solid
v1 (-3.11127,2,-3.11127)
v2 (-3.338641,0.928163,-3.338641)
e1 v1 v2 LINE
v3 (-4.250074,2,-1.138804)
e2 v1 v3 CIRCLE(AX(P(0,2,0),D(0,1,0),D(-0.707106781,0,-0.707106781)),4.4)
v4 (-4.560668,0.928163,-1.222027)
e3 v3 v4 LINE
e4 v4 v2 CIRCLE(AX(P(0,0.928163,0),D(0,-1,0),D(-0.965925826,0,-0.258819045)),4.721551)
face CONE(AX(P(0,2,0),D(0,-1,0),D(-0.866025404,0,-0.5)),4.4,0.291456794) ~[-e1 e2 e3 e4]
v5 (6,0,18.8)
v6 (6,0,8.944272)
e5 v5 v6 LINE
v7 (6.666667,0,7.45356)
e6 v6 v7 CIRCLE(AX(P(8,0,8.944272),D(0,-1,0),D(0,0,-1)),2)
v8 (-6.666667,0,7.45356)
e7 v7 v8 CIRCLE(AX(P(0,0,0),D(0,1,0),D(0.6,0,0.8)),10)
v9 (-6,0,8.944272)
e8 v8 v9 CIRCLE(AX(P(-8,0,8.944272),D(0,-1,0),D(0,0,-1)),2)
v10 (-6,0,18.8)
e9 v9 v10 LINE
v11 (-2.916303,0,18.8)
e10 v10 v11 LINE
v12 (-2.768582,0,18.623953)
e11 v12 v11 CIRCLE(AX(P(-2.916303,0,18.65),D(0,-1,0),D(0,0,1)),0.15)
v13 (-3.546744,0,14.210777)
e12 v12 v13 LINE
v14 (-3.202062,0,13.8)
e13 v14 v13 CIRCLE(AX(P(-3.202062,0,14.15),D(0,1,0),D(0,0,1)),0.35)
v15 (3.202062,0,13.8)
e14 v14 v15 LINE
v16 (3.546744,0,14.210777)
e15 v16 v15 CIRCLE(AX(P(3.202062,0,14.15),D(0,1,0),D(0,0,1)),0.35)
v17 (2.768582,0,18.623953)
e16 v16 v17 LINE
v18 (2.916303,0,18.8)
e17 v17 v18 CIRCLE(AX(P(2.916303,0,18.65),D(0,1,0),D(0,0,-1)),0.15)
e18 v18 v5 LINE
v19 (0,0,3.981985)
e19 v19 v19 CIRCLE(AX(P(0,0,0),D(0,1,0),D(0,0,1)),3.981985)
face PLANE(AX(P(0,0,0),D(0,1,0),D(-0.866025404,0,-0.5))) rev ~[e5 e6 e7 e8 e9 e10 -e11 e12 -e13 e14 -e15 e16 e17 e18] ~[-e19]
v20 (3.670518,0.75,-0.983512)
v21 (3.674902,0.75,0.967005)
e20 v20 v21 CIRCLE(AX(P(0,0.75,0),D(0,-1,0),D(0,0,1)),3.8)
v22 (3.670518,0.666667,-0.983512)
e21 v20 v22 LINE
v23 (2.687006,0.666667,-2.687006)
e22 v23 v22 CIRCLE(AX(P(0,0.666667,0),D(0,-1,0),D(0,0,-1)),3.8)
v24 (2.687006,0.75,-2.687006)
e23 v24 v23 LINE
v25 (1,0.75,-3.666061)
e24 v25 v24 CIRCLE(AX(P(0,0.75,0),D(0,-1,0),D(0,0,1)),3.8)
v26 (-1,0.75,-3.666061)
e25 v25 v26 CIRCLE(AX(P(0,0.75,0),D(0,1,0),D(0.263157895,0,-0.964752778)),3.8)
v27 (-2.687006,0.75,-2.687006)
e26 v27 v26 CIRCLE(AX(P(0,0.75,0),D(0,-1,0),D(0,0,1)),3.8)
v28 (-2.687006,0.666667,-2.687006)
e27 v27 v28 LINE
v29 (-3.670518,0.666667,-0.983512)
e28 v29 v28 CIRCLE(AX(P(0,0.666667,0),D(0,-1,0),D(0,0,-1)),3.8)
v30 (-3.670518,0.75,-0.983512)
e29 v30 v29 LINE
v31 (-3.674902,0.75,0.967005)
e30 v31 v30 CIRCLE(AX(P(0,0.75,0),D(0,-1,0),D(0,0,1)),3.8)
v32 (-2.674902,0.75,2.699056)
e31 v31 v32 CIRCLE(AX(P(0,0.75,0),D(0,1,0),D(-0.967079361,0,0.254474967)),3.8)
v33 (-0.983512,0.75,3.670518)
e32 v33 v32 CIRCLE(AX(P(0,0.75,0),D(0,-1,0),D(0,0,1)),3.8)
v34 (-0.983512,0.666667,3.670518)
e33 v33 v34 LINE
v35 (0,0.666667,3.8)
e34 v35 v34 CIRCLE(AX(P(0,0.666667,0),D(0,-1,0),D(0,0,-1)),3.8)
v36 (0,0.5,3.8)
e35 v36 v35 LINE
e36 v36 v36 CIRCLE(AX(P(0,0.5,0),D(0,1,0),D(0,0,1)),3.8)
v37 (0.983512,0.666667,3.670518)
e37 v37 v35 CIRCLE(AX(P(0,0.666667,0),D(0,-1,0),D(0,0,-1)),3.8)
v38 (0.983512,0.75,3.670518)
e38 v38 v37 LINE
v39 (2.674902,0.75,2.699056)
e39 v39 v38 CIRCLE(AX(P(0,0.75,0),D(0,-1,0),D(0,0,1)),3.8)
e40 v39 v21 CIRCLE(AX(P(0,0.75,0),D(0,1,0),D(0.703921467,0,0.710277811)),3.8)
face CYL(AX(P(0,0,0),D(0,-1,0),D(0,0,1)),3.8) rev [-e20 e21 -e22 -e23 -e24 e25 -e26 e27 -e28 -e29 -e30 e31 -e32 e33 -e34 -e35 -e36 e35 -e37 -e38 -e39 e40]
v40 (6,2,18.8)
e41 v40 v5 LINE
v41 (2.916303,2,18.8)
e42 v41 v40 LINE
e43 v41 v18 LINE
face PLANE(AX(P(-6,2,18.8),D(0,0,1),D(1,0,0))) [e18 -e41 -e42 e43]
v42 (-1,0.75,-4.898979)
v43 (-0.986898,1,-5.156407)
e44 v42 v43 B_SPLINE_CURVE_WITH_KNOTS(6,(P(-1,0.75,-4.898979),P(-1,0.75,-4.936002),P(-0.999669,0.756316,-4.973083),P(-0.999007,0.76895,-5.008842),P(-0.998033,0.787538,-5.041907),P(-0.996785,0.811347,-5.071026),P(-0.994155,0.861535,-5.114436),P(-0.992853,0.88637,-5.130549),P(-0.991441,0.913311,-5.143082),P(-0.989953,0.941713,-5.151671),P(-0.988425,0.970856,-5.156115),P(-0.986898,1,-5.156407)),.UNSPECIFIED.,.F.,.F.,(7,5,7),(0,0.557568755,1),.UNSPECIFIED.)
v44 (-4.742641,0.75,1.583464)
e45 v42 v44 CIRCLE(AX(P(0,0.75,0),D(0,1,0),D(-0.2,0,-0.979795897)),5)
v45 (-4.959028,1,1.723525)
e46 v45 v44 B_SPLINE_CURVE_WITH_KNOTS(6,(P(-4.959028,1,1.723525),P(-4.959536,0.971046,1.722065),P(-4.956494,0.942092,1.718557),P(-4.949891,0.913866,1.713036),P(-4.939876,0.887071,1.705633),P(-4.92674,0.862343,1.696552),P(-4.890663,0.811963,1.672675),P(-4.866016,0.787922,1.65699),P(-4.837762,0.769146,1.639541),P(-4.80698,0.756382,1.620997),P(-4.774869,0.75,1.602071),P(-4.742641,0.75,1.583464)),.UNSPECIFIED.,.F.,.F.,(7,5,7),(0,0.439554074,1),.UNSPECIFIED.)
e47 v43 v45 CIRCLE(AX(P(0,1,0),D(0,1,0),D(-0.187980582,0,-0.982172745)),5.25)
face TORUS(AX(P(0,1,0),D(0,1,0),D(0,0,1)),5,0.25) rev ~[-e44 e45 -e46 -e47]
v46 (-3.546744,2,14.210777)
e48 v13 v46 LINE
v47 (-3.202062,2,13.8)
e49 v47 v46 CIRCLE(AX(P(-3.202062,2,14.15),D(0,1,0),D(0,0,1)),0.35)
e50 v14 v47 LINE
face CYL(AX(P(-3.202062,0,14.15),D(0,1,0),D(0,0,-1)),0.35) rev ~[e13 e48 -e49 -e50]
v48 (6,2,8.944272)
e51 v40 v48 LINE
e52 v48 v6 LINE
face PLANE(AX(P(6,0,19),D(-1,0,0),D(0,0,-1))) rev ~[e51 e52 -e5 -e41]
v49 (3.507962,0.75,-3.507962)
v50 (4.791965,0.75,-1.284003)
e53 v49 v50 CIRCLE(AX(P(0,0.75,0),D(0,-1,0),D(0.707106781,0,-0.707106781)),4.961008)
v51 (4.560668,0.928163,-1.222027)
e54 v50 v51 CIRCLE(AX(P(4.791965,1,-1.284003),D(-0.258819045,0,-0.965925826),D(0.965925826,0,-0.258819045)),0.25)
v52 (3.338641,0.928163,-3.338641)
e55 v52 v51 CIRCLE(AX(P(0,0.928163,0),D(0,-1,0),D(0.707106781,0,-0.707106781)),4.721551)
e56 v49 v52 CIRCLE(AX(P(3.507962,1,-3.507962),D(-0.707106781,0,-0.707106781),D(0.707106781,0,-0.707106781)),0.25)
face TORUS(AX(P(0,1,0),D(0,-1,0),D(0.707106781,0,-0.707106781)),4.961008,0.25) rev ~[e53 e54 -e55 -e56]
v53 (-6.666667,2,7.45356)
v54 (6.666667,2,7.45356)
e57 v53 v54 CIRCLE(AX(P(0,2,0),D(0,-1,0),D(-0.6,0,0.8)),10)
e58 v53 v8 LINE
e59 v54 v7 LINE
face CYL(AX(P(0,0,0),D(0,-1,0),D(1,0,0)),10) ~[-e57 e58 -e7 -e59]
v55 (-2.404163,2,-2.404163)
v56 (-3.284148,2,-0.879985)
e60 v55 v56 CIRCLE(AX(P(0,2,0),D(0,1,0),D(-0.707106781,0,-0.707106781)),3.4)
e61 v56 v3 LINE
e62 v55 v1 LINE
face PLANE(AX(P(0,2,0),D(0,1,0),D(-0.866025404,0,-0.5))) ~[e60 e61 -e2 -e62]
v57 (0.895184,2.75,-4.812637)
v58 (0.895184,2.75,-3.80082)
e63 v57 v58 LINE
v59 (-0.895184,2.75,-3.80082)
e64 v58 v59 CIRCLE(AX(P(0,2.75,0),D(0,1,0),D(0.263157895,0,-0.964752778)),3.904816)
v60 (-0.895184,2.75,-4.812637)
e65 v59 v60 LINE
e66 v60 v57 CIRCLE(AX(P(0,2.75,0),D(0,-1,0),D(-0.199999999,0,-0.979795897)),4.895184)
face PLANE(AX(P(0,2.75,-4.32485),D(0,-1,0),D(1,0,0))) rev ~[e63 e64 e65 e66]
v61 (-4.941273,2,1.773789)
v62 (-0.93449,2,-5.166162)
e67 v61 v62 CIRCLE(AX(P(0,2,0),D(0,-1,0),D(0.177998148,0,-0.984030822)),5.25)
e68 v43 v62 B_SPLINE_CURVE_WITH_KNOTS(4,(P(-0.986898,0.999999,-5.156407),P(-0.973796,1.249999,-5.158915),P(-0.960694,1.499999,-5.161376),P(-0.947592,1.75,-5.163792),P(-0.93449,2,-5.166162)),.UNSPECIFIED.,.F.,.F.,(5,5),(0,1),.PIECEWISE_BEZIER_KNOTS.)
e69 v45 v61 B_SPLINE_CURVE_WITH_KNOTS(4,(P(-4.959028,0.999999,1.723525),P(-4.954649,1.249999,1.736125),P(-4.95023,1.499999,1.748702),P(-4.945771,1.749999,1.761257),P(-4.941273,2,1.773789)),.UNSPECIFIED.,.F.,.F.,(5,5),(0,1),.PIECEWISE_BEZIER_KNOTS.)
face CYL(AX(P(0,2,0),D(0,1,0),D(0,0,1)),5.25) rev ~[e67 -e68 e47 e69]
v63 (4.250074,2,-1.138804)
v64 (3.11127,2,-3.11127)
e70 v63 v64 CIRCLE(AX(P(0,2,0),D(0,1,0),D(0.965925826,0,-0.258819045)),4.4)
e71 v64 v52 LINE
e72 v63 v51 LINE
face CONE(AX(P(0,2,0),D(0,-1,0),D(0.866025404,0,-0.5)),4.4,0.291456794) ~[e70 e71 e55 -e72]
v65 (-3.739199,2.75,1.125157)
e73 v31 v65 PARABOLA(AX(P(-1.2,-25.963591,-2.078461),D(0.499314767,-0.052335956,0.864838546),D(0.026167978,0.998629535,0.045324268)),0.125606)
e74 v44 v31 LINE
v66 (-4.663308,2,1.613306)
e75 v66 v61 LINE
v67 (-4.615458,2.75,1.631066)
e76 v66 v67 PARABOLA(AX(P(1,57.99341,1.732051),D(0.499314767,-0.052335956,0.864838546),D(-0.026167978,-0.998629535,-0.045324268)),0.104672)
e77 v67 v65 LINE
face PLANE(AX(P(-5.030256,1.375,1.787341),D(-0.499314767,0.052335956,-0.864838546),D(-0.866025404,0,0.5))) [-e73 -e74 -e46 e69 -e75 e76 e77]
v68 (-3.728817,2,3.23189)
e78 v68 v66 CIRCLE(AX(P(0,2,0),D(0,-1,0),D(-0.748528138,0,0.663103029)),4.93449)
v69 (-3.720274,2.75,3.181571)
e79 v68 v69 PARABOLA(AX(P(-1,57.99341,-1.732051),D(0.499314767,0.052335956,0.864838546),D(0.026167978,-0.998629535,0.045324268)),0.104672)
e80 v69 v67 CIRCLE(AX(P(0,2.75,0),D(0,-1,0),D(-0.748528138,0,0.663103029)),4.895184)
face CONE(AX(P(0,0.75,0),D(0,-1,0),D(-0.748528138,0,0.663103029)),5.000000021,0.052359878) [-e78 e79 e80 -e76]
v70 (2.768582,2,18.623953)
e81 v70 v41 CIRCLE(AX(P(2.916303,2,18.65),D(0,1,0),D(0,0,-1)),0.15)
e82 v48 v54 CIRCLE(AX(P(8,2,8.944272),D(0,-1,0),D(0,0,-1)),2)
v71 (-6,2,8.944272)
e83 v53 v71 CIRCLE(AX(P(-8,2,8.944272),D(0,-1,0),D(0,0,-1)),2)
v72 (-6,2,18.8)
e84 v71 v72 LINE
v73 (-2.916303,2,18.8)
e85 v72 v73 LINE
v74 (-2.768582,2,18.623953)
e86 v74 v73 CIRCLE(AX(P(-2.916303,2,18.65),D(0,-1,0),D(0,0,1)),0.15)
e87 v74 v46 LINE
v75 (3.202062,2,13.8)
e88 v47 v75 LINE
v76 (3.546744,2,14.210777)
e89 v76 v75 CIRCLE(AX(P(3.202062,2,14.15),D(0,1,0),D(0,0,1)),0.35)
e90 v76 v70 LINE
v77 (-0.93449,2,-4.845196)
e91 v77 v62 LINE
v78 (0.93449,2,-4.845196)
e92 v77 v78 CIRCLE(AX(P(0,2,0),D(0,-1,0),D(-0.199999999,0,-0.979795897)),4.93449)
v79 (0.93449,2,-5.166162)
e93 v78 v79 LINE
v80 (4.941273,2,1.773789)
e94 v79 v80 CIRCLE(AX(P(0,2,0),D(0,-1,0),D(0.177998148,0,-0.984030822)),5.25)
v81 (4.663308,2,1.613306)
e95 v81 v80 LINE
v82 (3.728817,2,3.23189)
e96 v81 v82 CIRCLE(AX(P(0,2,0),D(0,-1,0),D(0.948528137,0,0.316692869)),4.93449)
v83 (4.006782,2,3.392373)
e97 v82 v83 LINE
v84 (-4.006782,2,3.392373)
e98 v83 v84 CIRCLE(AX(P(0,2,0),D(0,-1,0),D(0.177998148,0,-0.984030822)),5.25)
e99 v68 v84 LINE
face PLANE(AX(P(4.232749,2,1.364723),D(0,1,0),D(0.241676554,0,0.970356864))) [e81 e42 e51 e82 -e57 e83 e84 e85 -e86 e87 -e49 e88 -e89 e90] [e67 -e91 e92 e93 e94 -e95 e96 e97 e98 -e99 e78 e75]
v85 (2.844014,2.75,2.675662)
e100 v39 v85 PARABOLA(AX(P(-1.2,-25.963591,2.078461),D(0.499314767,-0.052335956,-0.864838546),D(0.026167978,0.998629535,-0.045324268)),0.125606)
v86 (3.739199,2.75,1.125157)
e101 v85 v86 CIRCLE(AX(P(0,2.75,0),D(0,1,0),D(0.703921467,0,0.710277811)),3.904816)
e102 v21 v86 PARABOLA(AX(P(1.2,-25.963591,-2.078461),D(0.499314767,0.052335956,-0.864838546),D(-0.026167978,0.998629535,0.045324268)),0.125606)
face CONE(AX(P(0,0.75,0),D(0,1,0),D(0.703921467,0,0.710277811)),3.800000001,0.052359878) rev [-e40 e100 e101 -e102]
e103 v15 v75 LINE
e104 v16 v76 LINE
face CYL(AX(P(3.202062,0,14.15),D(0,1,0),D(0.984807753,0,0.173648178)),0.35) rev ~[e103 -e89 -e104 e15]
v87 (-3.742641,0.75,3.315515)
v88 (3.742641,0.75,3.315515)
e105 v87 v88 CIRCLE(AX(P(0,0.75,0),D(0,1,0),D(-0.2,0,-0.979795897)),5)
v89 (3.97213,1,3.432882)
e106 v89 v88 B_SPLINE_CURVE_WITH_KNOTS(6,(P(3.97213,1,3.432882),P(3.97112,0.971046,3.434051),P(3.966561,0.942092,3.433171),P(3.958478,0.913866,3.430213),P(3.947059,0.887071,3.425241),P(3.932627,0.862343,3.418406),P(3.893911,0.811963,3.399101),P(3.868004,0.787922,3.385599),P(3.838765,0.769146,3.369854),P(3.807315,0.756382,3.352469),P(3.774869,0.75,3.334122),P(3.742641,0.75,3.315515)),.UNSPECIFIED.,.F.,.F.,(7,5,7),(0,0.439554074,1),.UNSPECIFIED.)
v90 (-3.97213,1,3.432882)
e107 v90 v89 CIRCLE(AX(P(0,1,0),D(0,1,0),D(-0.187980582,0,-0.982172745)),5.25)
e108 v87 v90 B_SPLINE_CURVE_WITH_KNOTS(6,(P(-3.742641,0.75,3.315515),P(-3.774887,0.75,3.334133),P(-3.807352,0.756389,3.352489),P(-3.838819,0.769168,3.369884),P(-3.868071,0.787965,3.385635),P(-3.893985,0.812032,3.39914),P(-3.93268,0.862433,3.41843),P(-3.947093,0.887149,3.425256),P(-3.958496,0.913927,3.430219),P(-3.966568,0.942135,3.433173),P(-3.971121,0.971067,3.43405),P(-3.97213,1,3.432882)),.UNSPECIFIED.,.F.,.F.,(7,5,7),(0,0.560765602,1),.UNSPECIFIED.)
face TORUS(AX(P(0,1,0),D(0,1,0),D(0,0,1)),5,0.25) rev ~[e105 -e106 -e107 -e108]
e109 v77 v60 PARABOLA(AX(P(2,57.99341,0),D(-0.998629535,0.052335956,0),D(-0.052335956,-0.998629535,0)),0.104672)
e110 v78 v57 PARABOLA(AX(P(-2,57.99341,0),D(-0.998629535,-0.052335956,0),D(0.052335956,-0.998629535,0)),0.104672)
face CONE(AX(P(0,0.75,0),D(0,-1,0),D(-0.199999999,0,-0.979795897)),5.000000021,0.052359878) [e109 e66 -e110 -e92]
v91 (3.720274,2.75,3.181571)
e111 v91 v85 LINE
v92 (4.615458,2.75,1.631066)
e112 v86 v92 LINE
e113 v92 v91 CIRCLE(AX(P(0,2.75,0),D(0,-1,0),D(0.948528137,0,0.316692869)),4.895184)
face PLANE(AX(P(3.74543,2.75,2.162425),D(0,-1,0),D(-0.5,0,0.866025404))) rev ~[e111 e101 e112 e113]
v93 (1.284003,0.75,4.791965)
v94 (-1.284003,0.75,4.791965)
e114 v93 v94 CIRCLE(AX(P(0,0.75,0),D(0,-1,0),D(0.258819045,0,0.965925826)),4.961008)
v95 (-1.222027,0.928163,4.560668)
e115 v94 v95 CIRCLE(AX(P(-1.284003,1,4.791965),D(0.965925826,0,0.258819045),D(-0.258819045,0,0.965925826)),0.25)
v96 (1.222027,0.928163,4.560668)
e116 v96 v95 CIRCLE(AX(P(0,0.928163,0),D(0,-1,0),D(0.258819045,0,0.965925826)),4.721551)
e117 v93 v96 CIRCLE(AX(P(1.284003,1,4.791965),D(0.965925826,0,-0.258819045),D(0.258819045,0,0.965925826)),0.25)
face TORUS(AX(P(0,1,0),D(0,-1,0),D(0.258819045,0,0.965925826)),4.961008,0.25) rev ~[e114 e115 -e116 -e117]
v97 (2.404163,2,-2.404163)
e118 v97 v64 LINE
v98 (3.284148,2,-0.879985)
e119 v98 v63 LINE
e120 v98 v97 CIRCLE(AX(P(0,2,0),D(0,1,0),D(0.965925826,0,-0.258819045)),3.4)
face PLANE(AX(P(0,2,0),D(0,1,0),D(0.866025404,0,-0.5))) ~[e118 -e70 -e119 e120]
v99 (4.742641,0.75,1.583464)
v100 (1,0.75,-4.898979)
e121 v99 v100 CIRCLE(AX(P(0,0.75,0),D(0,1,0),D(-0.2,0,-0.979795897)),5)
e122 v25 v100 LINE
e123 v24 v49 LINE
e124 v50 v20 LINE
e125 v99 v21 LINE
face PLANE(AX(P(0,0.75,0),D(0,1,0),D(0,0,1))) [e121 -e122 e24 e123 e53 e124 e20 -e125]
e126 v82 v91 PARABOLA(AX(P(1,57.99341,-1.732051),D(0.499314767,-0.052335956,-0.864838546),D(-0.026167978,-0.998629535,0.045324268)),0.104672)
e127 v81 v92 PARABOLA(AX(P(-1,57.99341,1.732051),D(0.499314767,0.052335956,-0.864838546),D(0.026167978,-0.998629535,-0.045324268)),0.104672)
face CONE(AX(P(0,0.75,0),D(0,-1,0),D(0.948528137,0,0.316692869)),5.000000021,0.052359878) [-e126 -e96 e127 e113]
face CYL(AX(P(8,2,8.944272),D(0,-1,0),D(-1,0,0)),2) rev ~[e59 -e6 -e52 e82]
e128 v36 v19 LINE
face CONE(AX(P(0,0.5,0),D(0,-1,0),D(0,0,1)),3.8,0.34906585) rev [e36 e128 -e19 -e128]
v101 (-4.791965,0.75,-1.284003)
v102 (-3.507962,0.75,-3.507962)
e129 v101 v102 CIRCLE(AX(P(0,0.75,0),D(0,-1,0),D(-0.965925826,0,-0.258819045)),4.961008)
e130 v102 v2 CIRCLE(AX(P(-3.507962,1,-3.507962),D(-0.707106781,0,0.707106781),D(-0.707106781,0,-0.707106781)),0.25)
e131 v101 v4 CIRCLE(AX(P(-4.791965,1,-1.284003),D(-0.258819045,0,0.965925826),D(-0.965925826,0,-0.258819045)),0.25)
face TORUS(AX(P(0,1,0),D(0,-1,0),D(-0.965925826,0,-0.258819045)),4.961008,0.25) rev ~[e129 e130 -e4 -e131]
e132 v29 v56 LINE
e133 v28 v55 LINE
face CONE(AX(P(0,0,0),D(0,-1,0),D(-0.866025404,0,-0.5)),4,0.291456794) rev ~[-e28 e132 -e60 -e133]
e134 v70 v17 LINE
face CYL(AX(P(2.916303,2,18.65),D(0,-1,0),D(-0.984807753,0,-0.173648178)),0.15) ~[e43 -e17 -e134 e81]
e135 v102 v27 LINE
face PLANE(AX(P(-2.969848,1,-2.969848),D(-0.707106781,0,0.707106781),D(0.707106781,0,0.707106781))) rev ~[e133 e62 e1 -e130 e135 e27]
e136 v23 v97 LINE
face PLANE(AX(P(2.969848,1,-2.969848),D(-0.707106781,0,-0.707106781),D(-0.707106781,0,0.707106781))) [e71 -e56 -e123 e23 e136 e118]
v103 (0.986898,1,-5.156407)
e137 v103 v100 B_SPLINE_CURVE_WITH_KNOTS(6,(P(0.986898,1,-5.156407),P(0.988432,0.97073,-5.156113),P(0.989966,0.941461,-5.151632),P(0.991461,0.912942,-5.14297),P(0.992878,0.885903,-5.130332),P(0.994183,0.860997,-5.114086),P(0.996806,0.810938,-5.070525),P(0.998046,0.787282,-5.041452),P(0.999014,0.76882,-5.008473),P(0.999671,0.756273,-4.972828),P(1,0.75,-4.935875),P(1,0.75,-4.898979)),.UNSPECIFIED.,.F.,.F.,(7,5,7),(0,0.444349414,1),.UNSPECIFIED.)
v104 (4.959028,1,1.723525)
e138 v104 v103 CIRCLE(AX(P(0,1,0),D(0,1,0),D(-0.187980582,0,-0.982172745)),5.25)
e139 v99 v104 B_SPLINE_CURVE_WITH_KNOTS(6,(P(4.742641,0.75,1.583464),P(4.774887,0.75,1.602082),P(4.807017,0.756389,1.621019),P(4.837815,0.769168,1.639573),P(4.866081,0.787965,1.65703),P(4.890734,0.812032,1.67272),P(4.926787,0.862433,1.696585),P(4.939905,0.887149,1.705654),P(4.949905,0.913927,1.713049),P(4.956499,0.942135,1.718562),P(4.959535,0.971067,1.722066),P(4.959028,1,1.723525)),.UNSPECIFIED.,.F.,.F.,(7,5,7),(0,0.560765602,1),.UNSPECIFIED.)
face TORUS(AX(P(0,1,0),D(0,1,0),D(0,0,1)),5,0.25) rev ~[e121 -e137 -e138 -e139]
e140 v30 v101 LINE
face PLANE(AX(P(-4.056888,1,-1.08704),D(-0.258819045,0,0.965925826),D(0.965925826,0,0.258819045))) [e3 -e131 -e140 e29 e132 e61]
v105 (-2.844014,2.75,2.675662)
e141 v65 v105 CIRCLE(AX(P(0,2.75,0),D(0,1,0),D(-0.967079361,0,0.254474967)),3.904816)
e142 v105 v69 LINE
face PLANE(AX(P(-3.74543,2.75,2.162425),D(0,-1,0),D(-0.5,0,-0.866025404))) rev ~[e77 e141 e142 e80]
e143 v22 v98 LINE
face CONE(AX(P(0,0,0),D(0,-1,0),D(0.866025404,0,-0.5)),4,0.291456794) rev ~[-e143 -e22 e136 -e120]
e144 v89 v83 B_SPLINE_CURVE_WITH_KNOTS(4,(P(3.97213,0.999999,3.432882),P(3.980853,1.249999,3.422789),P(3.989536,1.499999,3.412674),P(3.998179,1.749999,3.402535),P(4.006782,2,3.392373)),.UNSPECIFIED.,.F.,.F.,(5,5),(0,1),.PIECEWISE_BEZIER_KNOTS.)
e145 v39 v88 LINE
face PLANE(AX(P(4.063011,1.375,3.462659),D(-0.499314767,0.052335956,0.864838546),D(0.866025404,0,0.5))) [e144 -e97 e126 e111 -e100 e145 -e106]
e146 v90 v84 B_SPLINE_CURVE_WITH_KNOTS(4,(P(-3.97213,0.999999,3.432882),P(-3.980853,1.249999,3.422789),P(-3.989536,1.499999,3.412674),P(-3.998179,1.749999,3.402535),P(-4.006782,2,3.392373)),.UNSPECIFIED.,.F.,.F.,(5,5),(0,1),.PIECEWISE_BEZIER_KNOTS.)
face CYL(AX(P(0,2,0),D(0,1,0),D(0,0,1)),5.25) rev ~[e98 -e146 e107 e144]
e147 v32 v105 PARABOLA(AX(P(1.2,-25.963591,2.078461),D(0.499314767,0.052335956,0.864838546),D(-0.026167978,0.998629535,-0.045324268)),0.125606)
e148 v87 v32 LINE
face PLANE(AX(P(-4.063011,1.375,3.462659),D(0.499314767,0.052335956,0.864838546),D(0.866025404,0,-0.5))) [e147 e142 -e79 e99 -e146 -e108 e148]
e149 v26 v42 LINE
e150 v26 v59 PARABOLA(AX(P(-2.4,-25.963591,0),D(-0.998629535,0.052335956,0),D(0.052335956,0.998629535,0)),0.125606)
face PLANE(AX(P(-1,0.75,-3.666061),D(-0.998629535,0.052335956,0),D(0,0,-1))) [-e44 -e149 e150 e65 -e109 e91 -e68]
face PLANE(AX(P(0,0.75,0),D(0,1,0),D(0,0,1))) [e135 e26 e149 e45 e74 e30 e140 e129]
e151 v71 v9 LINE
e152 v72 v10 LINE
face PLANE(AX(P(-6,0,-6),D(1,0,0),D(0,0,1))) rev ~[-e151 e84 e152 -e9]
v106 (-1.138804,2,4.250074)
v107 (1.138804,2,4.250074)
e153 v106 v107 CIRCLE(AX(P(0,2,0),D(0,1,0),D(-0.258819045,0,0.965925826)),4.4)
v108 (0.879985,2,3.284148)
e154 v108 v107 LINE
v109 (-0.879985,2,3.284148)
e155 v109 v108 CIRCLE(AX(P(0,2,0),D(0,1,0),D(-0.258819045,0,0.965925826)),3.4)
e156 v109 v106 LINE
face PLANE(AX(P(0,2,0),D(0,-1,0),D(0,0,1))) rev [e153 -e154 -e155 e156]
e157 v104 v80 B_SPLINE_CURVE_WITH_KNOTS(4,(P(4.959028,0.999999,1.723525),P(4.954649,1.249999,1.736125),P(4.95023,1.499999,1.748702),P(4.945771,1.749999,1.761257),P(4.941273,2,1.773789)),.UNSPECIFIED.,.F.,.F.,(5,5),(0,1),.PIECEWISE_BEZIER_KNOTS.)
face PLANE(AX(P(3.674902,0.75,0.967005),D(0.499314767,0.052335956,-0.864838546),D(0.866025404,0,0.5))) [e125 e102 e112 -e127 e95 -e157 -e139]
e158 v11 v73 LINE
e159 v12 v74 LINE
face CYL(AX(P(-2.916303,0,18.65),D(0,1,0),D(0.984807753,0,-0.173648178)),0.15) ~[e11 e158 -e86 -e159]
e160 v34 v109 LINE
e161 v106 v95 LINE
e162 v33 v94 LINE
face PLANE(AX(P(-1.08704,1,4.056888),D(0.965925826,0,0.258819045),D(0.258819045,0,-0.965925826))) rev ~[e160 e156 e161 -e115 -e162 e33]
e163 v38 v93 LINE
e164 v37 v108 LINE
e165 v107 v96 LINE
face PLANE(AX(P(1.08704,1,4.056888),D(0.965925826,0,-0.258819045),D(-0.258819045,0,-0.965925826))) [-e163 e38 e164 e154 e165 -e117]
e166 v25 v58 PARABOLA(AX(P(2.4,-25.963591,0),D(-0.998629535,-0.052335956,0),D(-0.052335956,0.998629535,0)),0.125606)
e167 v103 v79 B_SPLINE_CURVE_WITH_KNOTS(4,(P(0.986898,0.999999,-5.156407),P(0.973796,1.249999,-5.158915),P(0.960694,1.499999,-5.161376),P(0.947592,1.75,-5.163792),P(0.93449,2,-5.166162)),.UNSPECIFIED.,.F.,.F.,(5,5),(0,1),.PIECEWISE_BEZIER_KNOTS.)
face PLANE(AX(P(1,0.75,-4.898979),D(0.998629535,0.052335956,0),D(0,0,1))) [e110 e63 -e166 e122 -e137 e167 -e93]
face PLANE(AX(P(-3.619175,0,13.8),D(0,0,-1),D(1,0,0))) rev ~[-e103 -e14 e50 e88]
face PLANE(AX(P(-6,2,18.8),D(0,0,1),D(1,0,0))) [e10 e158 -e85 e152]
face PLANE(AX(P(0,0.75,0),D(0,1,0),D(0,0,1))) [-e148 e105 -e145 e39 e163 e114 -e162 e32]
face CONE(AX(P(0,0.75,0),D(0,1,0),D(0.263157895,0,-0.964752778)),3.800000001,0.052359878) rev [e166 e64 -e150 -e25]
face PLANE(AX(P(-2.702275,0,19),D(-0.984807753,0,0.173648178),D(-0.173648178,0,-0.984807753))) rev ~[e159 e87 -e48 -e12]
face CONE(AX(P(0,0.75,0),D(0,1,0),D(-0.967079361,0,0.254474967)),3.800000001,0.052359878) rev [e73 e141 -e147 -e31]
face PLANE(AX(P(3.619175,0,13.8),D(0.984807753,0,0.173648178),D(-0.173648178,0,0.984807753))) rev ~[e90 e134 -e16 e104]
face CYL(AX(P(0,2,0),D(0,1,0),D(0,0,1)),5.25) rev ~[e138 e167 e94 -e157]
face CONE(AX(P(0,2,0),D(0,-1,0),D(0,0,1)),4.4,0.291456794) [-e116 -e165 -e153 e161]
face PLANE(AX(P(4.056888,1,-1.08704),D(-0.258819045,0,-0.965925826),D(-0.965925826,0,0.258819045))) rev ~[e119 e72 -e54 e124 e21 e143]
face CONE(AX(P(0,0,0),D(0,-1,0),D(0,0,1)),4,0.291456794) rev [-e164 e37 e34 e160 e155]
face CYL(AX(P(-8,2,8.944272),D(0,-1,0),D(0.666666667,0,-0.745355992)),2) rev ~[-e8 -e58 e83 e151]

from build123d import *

# Parameters (mm, degrees)
SKETCH1_R                = 4
BOSS_EXTRUDE1_DEPTH      = 2
SKETCH2_R                = 10
SKETCH2_R_2              = 3.8
BOSS_EXTRUDE2_DEPTH      = 2
SKETCH4_W                = 12
SKETCH4_H                = 0.2
CUT_EXTRUDE1_DEPTH       = 4
FILLET3_R                = 0.35
FILLET4_R                = 0.15
FILLET6_R                = 2
SKETCH13_R               = 5.25
CUT_EXTRUDE5_DEPTH       = 1.25
REVOLVE2_ANGLE           = 30
CIRPATTERN2_COUNT        = 3
CHAMFER1_SIZE            = 0.5
CHAMFER1_SIZE2           = 0.181985117
FILLET14_R               = 0.25
BOSS_EXTRUDE8_START      = -0.75
BOSS_EXTRUDE8_DEPTH      = 2
BOSS_EXTRUDE8_DRAFT      = -3
SKETCH16_W               = 2
SKETCH16_H               = 1.934959958
BOSS_EXTRUDE9_DEPTH      = 1.25
BOSS_EXTRUDE9_TAPER      = 3
CIRPATTERN3_COUNT        = 3
CIRPATTERN3_START        = -0.75
CIRPATTERN3_COPY_1_DEPTH = 2
CIRPATTERN3_COPY_1_DRAFT = -3
CIRPATTERN3_COPY_2_DEPTH = 2
CIRPATTERN3_COPY_2_DRAFT = -3


with BuildPart() as part:
    # Sketch1 → Boss-Extrude1 (new body)
    with BuildSketch(Plane(origin=(0, 0, 0), x_dir=(1, 0, 0), z_dir=(0, 1, 0))):
        Polygon((-6, 6), (-6, -13.291502622), (-6, -19), (-2.70227506, -19), (-3.619175359, -13.8), (0, -13.8), (3.619175359, -13.8), (2.70227506, -19), (6, -19), (6, -13.291502622), (6, 6), align=None)
        with Locations(Location((0, 0, 0), (0, 0, 270))):
            Circle(SKETCH1_R, mode=Mode.SUBTRACT)
    extrude(amount=BOSS_EXTRUDE1_DEPTH)

    # Sketch2 → Boss-Extrude2 (add)
    with BuildSketch(Plane(origin=(0, 0, 0), x_dir=(1, 0, 0), z_dir=(0, 1, 0))):
        Circle(SKETCH2_R)
        with Locations(Location((0, 0, 0), (0, 0, 270))):
            Circle(SKETCH2_R_2, mode=Mode.SUBTRACT)
    extrude(amount=BOSS_EXTRUDE2_DEPTH)

    # Sketch4 → Cut-Extrude1 (cut)
    with BuildSketch(Plane(origin=(0, 2, 0), x_dir=(1, 0, 0), z_dir=(0, 1, 0))):
        with Locations((0, -18.9)):
            Rectangle(SKETCH4_W, SKETCH4_H)
    extrude(amount=-CUT_EXTRUDE1_DEPTH, mode=Mode.SUBTRACT)

    # Fillet3
    fillet3_edges = [part.edges().sort_by_distance(p)[0] for p in [
        (3.619175359, 1, 13.8),
        (-3.619175359, 1, 13.8),
    ]]
    fillet(fillet3_edges, radius=FILLET3_R)

    # Fillet4
    fillet4_edges = [part.edges().sort_by_distance(p)[0] for p in [
        (2.737540456, 1, 18.8),
        (-2.737540456, 1, 18.8),
    ]]
    fillet(fillet4_edges, radius=FILLET4_R)

    # Fillet6
    fillet6_edges = [part.edges().sort_by_distance(p)[0] for p in [
        (6, 1, 8),
        (-6, 1, 8),
    ]]
    fillet(fillet6_edges, radius=FILLET6_R)

    # Sketch13 → Cut-Extrude5 (cut)
    with BuildSketch(Plane(origin=(0, 2, 0), x_dir=(1, 0, 0), z_dir=(0, 1, 0))):
        with Locations(Location((0, 0, 0), (0, 0, 270))):
            Circle(SKETCH13_R)
    extrude(amount=-CUT_EXTRUDE5_DEPTH, mode=Mode.SUBTRACT)

    # Sketch12 → Revolve2 (revolve, symmetric)
    with BuildSketch(Plane(origin=(0, 0, 0), x_dir=(0, 0, -1), z_dir=(1, 0, 0))) as revolve2_sk:
        Polygon((-4, 0), (-3.4, 2), (-4.4, 2), (-5, 0), align=None)
    revolve2 = revolve(axis=Axis((0, 0, 0), (0, 1, 0)), revolution_arc=REVOLVE2_ANGLE / 2)
    revolve2 = revolve2 + revolve(revolve2_sk.sketch, axis=Axis((0, 0, 0), (0, -1, 0)), revolution_arc=REVOLVE2_ANGLE / 2)

    # CirPattern2: Revolve2 ×3 about axis
    cirpattern2_axis = Axis((0, 0, 0), (0, 1, 0))
    for i in range(1, CIRPATTERN2_COUNT):
        add(revolve2.rotate(cirpattern2_axis, i * 360 / CIRPATTERN2_COUNT))

    # Chamfer1
    chamfer1_edges = [part.edges().sort_by_distance(p)[0] for p in [
        (0, 0, -3.8),
    ]]
    chamfer1_side = [part.faces().sort_by_distance(p)[0] for p in [
        (0, 0.375, -3.8),
    ]]
    chamfer(chamfer1_edges, length=CHAMFER1_SIZE, length2=CHAMFER1_SIZE2, reference=chamfer1_side[0])

    # Fillet14
    fillet14_edges = [part.edges().sort_by_distance(p)[0] for p in [
        (0, 0.75, -5.25),
        (0, 0.75, 4.775),
        (-4.135271303, 0.75, -2.3875),
        (4.135271303, 0.75, -2.3875),
    ]]
    fillet(fillet14_edges, radius=FILLET14_R)


with BuildPart() as boss_extrude8_tool:
    # Sketch15 → Boss-Extrude8 (with draft: the straight prism first)
    with BuildSketch(Plane.XZ.offset(BOSS_EXTRUDE8_START)):
        with BuildLine():
            Line((1, -4.898979486), (1, -3.666060556))
            ThreePointArc((1, -3.666060556), (0, -3.8), (-1, -3.666060556))
            Line((-1, -3.666060556), (-1, -4.898979486))
            ThreePointArc((-1, -4.898979486), (0, -5), (1, -4.898979486))
        make_face()
    extrude(amount=-BOSS_EXTRUDE8_DEPTH)
    # Boss-Extrude8: the draft: its side faces are tilted about the plane it starts from
    boss_extrude8_sides = [boss_extrude8_tool.faces().sort_by_distance(p)[0] for p in [
        (1, 1.75, -4.282520021),
        (0, 1.75, -3.8),
        (-1, 1.75, -4.282520021),
        (0, 1.75, -5),
    ]]
    draft(boss_extrude8_sides, Plane.XZ.offset(BOSS_EXTRUDE8_START), BOSS_EXTRUDE8_DRAFT)


with BuildPart() as part_1:
    add(part.part)

    # Boss-Extrude8: add boss_extrude8_tool
    add(boss_extrude8_tool.part)

    # Sketch16 → Boss-Extrude9 (add)
    with BuildSketch(Plane(origin=(0, 0.75, 0), x_dir=(1, 0, 0), z_dir=(0, 1, 0))):
        with Locations((0, 5.25)):
            Rectangle(SKETCH16_W, SKETCH16_H)
    boss_extrude9 = extrude(amount=BOSS_EXTRUDE9_DEPTH, taper=BOSS_EXTRUDE9_TAPER)

    # CirPattern3: Boss-Extrude9 ×3 about axis
    cirpattern3_axis = Axis((0, 0, 0), (0, 1, 0))
    for i in range(1, CIRPATTERN3_COUNT):
        add(boss_extrude9.rotate(cirpattern3_axis, i * 360 / CIRPATTERN3_COUNT))


with BuildPart() as cirpattern3_copy_1_tool:
    # CirPattern3 copy 1 sketch → CirPattern3 copy 1 (with draft: the straight prism first)
    with BuildSketch(Plane(origin=(0, 0, 0), x_dir=(-0.4999999999999998, 0, -0.8660254037844387), z_dir=(0, -1, 0)).offset(CIRPATTERN3_START)):
        with BuildLine():
            Line((1, -4.898979486), (1, -3.666060556))
            ThreePointArc((1, -3.666060556), (0, -3.8), (-1, -3.666060556))
            Line((-1, -3.666060556), (-1, -4.898979486))
            ThreePointArc((-1, -4.898979486), (0, -5), (1, -4.898979486))
        make_face()
    extrude(amount=-CIRPATTERN3_COPY_1_DEPTH)
    # CirPattern3 copy 1: the draft: its side faces are tilted about the plane it starts from
    cirpattern3_copy_1_sides = [cirpattern3_copy_1_tool.faces().sort_by_distance(p)[0] for p in [
        (-4.20877113, 1.75, 1.275234607),
        (-3.290896534, 1.75, 1.9),
        (-3.20877113, 1.75, 3.007285414),
        (-4.330127019, 1.75, 2.5),
    ]]
    draft(cirpattern3_copy_1_sides, Plane(origin=(0, 0, 0), x_dir=(-0.4999999999999998, 0, -0.8660254037844387), z_dir=(0, -1, 0)).offset(CIRPATTERN3_START), CIRPATTERN3_COPY_1_DRAFT)


with BuildPart() as part_2:
    add(part_1.part)

    # CirPattern3 copy 1: add cirpattern3_copy_1_tool
    add(cirpattern3_copy_1_tool.part)


with BuildPart() as cirpattern3_copy_2_tool:
    # CirPattern3 copy 2 sketch → CirPattern3 copy 2 (with draft: the straight prism first)
    with BuildSketch(Plane(origin=(0, 0, 0), x_dir=(-0.5000000000000004, 0, 0.8660254037844384), z_dir=(0, -1, 0)).offset(CIRPATTERN3_START)):
        with BuildLine():
            Line((1, -4.898979486), (1, -3.666060556))
            ThreePointArc((1, -3.666060556), (0, -3.8), (-1, -3.666060556))
            Line((-1, -3.666060556), (-1, -4.898979486))
            ThreePointArc((-1, -4.898979486), (0, -5), (1, -4.898979486))
        make_face()
    extrude(amount=-CIRPATTERN3_COPY_2_DEPTH)
    # CirPattern3 copy 2: the draft: its side faces are tilted about the plane it starts from
    cirpattern3_copy_2_sides = [cirpattern3_copy_2_tool.faces().sort_by_distance(p)[0] for p in [
        (3.20877113, 1.75, 3.007285414),
        (3.290896534, 1.75, 1.9),
        (4.20877113, 1.75, 1.275234607),
        (4.330127019, 1.75, 2.5),
    ]]
    draft(cirpattern3_copy_2_sides, Plane(origin=(0, 0, 0), x_dir=(-0.5000000000000004, 0, 0.8660254037844384), z_dir=(0, -1, 0)).offset(CIRPATTERN3_START), CIRPATTERN3_COPY_2_DRAFT)


with BuildPart() as part_3:
    add(part_2.part)

    # CirPattern3 copy 2: add cirpattern3_copy_2_tool
    add(cirpattern3_copy_2_tool.part)


solid = part_3.part
